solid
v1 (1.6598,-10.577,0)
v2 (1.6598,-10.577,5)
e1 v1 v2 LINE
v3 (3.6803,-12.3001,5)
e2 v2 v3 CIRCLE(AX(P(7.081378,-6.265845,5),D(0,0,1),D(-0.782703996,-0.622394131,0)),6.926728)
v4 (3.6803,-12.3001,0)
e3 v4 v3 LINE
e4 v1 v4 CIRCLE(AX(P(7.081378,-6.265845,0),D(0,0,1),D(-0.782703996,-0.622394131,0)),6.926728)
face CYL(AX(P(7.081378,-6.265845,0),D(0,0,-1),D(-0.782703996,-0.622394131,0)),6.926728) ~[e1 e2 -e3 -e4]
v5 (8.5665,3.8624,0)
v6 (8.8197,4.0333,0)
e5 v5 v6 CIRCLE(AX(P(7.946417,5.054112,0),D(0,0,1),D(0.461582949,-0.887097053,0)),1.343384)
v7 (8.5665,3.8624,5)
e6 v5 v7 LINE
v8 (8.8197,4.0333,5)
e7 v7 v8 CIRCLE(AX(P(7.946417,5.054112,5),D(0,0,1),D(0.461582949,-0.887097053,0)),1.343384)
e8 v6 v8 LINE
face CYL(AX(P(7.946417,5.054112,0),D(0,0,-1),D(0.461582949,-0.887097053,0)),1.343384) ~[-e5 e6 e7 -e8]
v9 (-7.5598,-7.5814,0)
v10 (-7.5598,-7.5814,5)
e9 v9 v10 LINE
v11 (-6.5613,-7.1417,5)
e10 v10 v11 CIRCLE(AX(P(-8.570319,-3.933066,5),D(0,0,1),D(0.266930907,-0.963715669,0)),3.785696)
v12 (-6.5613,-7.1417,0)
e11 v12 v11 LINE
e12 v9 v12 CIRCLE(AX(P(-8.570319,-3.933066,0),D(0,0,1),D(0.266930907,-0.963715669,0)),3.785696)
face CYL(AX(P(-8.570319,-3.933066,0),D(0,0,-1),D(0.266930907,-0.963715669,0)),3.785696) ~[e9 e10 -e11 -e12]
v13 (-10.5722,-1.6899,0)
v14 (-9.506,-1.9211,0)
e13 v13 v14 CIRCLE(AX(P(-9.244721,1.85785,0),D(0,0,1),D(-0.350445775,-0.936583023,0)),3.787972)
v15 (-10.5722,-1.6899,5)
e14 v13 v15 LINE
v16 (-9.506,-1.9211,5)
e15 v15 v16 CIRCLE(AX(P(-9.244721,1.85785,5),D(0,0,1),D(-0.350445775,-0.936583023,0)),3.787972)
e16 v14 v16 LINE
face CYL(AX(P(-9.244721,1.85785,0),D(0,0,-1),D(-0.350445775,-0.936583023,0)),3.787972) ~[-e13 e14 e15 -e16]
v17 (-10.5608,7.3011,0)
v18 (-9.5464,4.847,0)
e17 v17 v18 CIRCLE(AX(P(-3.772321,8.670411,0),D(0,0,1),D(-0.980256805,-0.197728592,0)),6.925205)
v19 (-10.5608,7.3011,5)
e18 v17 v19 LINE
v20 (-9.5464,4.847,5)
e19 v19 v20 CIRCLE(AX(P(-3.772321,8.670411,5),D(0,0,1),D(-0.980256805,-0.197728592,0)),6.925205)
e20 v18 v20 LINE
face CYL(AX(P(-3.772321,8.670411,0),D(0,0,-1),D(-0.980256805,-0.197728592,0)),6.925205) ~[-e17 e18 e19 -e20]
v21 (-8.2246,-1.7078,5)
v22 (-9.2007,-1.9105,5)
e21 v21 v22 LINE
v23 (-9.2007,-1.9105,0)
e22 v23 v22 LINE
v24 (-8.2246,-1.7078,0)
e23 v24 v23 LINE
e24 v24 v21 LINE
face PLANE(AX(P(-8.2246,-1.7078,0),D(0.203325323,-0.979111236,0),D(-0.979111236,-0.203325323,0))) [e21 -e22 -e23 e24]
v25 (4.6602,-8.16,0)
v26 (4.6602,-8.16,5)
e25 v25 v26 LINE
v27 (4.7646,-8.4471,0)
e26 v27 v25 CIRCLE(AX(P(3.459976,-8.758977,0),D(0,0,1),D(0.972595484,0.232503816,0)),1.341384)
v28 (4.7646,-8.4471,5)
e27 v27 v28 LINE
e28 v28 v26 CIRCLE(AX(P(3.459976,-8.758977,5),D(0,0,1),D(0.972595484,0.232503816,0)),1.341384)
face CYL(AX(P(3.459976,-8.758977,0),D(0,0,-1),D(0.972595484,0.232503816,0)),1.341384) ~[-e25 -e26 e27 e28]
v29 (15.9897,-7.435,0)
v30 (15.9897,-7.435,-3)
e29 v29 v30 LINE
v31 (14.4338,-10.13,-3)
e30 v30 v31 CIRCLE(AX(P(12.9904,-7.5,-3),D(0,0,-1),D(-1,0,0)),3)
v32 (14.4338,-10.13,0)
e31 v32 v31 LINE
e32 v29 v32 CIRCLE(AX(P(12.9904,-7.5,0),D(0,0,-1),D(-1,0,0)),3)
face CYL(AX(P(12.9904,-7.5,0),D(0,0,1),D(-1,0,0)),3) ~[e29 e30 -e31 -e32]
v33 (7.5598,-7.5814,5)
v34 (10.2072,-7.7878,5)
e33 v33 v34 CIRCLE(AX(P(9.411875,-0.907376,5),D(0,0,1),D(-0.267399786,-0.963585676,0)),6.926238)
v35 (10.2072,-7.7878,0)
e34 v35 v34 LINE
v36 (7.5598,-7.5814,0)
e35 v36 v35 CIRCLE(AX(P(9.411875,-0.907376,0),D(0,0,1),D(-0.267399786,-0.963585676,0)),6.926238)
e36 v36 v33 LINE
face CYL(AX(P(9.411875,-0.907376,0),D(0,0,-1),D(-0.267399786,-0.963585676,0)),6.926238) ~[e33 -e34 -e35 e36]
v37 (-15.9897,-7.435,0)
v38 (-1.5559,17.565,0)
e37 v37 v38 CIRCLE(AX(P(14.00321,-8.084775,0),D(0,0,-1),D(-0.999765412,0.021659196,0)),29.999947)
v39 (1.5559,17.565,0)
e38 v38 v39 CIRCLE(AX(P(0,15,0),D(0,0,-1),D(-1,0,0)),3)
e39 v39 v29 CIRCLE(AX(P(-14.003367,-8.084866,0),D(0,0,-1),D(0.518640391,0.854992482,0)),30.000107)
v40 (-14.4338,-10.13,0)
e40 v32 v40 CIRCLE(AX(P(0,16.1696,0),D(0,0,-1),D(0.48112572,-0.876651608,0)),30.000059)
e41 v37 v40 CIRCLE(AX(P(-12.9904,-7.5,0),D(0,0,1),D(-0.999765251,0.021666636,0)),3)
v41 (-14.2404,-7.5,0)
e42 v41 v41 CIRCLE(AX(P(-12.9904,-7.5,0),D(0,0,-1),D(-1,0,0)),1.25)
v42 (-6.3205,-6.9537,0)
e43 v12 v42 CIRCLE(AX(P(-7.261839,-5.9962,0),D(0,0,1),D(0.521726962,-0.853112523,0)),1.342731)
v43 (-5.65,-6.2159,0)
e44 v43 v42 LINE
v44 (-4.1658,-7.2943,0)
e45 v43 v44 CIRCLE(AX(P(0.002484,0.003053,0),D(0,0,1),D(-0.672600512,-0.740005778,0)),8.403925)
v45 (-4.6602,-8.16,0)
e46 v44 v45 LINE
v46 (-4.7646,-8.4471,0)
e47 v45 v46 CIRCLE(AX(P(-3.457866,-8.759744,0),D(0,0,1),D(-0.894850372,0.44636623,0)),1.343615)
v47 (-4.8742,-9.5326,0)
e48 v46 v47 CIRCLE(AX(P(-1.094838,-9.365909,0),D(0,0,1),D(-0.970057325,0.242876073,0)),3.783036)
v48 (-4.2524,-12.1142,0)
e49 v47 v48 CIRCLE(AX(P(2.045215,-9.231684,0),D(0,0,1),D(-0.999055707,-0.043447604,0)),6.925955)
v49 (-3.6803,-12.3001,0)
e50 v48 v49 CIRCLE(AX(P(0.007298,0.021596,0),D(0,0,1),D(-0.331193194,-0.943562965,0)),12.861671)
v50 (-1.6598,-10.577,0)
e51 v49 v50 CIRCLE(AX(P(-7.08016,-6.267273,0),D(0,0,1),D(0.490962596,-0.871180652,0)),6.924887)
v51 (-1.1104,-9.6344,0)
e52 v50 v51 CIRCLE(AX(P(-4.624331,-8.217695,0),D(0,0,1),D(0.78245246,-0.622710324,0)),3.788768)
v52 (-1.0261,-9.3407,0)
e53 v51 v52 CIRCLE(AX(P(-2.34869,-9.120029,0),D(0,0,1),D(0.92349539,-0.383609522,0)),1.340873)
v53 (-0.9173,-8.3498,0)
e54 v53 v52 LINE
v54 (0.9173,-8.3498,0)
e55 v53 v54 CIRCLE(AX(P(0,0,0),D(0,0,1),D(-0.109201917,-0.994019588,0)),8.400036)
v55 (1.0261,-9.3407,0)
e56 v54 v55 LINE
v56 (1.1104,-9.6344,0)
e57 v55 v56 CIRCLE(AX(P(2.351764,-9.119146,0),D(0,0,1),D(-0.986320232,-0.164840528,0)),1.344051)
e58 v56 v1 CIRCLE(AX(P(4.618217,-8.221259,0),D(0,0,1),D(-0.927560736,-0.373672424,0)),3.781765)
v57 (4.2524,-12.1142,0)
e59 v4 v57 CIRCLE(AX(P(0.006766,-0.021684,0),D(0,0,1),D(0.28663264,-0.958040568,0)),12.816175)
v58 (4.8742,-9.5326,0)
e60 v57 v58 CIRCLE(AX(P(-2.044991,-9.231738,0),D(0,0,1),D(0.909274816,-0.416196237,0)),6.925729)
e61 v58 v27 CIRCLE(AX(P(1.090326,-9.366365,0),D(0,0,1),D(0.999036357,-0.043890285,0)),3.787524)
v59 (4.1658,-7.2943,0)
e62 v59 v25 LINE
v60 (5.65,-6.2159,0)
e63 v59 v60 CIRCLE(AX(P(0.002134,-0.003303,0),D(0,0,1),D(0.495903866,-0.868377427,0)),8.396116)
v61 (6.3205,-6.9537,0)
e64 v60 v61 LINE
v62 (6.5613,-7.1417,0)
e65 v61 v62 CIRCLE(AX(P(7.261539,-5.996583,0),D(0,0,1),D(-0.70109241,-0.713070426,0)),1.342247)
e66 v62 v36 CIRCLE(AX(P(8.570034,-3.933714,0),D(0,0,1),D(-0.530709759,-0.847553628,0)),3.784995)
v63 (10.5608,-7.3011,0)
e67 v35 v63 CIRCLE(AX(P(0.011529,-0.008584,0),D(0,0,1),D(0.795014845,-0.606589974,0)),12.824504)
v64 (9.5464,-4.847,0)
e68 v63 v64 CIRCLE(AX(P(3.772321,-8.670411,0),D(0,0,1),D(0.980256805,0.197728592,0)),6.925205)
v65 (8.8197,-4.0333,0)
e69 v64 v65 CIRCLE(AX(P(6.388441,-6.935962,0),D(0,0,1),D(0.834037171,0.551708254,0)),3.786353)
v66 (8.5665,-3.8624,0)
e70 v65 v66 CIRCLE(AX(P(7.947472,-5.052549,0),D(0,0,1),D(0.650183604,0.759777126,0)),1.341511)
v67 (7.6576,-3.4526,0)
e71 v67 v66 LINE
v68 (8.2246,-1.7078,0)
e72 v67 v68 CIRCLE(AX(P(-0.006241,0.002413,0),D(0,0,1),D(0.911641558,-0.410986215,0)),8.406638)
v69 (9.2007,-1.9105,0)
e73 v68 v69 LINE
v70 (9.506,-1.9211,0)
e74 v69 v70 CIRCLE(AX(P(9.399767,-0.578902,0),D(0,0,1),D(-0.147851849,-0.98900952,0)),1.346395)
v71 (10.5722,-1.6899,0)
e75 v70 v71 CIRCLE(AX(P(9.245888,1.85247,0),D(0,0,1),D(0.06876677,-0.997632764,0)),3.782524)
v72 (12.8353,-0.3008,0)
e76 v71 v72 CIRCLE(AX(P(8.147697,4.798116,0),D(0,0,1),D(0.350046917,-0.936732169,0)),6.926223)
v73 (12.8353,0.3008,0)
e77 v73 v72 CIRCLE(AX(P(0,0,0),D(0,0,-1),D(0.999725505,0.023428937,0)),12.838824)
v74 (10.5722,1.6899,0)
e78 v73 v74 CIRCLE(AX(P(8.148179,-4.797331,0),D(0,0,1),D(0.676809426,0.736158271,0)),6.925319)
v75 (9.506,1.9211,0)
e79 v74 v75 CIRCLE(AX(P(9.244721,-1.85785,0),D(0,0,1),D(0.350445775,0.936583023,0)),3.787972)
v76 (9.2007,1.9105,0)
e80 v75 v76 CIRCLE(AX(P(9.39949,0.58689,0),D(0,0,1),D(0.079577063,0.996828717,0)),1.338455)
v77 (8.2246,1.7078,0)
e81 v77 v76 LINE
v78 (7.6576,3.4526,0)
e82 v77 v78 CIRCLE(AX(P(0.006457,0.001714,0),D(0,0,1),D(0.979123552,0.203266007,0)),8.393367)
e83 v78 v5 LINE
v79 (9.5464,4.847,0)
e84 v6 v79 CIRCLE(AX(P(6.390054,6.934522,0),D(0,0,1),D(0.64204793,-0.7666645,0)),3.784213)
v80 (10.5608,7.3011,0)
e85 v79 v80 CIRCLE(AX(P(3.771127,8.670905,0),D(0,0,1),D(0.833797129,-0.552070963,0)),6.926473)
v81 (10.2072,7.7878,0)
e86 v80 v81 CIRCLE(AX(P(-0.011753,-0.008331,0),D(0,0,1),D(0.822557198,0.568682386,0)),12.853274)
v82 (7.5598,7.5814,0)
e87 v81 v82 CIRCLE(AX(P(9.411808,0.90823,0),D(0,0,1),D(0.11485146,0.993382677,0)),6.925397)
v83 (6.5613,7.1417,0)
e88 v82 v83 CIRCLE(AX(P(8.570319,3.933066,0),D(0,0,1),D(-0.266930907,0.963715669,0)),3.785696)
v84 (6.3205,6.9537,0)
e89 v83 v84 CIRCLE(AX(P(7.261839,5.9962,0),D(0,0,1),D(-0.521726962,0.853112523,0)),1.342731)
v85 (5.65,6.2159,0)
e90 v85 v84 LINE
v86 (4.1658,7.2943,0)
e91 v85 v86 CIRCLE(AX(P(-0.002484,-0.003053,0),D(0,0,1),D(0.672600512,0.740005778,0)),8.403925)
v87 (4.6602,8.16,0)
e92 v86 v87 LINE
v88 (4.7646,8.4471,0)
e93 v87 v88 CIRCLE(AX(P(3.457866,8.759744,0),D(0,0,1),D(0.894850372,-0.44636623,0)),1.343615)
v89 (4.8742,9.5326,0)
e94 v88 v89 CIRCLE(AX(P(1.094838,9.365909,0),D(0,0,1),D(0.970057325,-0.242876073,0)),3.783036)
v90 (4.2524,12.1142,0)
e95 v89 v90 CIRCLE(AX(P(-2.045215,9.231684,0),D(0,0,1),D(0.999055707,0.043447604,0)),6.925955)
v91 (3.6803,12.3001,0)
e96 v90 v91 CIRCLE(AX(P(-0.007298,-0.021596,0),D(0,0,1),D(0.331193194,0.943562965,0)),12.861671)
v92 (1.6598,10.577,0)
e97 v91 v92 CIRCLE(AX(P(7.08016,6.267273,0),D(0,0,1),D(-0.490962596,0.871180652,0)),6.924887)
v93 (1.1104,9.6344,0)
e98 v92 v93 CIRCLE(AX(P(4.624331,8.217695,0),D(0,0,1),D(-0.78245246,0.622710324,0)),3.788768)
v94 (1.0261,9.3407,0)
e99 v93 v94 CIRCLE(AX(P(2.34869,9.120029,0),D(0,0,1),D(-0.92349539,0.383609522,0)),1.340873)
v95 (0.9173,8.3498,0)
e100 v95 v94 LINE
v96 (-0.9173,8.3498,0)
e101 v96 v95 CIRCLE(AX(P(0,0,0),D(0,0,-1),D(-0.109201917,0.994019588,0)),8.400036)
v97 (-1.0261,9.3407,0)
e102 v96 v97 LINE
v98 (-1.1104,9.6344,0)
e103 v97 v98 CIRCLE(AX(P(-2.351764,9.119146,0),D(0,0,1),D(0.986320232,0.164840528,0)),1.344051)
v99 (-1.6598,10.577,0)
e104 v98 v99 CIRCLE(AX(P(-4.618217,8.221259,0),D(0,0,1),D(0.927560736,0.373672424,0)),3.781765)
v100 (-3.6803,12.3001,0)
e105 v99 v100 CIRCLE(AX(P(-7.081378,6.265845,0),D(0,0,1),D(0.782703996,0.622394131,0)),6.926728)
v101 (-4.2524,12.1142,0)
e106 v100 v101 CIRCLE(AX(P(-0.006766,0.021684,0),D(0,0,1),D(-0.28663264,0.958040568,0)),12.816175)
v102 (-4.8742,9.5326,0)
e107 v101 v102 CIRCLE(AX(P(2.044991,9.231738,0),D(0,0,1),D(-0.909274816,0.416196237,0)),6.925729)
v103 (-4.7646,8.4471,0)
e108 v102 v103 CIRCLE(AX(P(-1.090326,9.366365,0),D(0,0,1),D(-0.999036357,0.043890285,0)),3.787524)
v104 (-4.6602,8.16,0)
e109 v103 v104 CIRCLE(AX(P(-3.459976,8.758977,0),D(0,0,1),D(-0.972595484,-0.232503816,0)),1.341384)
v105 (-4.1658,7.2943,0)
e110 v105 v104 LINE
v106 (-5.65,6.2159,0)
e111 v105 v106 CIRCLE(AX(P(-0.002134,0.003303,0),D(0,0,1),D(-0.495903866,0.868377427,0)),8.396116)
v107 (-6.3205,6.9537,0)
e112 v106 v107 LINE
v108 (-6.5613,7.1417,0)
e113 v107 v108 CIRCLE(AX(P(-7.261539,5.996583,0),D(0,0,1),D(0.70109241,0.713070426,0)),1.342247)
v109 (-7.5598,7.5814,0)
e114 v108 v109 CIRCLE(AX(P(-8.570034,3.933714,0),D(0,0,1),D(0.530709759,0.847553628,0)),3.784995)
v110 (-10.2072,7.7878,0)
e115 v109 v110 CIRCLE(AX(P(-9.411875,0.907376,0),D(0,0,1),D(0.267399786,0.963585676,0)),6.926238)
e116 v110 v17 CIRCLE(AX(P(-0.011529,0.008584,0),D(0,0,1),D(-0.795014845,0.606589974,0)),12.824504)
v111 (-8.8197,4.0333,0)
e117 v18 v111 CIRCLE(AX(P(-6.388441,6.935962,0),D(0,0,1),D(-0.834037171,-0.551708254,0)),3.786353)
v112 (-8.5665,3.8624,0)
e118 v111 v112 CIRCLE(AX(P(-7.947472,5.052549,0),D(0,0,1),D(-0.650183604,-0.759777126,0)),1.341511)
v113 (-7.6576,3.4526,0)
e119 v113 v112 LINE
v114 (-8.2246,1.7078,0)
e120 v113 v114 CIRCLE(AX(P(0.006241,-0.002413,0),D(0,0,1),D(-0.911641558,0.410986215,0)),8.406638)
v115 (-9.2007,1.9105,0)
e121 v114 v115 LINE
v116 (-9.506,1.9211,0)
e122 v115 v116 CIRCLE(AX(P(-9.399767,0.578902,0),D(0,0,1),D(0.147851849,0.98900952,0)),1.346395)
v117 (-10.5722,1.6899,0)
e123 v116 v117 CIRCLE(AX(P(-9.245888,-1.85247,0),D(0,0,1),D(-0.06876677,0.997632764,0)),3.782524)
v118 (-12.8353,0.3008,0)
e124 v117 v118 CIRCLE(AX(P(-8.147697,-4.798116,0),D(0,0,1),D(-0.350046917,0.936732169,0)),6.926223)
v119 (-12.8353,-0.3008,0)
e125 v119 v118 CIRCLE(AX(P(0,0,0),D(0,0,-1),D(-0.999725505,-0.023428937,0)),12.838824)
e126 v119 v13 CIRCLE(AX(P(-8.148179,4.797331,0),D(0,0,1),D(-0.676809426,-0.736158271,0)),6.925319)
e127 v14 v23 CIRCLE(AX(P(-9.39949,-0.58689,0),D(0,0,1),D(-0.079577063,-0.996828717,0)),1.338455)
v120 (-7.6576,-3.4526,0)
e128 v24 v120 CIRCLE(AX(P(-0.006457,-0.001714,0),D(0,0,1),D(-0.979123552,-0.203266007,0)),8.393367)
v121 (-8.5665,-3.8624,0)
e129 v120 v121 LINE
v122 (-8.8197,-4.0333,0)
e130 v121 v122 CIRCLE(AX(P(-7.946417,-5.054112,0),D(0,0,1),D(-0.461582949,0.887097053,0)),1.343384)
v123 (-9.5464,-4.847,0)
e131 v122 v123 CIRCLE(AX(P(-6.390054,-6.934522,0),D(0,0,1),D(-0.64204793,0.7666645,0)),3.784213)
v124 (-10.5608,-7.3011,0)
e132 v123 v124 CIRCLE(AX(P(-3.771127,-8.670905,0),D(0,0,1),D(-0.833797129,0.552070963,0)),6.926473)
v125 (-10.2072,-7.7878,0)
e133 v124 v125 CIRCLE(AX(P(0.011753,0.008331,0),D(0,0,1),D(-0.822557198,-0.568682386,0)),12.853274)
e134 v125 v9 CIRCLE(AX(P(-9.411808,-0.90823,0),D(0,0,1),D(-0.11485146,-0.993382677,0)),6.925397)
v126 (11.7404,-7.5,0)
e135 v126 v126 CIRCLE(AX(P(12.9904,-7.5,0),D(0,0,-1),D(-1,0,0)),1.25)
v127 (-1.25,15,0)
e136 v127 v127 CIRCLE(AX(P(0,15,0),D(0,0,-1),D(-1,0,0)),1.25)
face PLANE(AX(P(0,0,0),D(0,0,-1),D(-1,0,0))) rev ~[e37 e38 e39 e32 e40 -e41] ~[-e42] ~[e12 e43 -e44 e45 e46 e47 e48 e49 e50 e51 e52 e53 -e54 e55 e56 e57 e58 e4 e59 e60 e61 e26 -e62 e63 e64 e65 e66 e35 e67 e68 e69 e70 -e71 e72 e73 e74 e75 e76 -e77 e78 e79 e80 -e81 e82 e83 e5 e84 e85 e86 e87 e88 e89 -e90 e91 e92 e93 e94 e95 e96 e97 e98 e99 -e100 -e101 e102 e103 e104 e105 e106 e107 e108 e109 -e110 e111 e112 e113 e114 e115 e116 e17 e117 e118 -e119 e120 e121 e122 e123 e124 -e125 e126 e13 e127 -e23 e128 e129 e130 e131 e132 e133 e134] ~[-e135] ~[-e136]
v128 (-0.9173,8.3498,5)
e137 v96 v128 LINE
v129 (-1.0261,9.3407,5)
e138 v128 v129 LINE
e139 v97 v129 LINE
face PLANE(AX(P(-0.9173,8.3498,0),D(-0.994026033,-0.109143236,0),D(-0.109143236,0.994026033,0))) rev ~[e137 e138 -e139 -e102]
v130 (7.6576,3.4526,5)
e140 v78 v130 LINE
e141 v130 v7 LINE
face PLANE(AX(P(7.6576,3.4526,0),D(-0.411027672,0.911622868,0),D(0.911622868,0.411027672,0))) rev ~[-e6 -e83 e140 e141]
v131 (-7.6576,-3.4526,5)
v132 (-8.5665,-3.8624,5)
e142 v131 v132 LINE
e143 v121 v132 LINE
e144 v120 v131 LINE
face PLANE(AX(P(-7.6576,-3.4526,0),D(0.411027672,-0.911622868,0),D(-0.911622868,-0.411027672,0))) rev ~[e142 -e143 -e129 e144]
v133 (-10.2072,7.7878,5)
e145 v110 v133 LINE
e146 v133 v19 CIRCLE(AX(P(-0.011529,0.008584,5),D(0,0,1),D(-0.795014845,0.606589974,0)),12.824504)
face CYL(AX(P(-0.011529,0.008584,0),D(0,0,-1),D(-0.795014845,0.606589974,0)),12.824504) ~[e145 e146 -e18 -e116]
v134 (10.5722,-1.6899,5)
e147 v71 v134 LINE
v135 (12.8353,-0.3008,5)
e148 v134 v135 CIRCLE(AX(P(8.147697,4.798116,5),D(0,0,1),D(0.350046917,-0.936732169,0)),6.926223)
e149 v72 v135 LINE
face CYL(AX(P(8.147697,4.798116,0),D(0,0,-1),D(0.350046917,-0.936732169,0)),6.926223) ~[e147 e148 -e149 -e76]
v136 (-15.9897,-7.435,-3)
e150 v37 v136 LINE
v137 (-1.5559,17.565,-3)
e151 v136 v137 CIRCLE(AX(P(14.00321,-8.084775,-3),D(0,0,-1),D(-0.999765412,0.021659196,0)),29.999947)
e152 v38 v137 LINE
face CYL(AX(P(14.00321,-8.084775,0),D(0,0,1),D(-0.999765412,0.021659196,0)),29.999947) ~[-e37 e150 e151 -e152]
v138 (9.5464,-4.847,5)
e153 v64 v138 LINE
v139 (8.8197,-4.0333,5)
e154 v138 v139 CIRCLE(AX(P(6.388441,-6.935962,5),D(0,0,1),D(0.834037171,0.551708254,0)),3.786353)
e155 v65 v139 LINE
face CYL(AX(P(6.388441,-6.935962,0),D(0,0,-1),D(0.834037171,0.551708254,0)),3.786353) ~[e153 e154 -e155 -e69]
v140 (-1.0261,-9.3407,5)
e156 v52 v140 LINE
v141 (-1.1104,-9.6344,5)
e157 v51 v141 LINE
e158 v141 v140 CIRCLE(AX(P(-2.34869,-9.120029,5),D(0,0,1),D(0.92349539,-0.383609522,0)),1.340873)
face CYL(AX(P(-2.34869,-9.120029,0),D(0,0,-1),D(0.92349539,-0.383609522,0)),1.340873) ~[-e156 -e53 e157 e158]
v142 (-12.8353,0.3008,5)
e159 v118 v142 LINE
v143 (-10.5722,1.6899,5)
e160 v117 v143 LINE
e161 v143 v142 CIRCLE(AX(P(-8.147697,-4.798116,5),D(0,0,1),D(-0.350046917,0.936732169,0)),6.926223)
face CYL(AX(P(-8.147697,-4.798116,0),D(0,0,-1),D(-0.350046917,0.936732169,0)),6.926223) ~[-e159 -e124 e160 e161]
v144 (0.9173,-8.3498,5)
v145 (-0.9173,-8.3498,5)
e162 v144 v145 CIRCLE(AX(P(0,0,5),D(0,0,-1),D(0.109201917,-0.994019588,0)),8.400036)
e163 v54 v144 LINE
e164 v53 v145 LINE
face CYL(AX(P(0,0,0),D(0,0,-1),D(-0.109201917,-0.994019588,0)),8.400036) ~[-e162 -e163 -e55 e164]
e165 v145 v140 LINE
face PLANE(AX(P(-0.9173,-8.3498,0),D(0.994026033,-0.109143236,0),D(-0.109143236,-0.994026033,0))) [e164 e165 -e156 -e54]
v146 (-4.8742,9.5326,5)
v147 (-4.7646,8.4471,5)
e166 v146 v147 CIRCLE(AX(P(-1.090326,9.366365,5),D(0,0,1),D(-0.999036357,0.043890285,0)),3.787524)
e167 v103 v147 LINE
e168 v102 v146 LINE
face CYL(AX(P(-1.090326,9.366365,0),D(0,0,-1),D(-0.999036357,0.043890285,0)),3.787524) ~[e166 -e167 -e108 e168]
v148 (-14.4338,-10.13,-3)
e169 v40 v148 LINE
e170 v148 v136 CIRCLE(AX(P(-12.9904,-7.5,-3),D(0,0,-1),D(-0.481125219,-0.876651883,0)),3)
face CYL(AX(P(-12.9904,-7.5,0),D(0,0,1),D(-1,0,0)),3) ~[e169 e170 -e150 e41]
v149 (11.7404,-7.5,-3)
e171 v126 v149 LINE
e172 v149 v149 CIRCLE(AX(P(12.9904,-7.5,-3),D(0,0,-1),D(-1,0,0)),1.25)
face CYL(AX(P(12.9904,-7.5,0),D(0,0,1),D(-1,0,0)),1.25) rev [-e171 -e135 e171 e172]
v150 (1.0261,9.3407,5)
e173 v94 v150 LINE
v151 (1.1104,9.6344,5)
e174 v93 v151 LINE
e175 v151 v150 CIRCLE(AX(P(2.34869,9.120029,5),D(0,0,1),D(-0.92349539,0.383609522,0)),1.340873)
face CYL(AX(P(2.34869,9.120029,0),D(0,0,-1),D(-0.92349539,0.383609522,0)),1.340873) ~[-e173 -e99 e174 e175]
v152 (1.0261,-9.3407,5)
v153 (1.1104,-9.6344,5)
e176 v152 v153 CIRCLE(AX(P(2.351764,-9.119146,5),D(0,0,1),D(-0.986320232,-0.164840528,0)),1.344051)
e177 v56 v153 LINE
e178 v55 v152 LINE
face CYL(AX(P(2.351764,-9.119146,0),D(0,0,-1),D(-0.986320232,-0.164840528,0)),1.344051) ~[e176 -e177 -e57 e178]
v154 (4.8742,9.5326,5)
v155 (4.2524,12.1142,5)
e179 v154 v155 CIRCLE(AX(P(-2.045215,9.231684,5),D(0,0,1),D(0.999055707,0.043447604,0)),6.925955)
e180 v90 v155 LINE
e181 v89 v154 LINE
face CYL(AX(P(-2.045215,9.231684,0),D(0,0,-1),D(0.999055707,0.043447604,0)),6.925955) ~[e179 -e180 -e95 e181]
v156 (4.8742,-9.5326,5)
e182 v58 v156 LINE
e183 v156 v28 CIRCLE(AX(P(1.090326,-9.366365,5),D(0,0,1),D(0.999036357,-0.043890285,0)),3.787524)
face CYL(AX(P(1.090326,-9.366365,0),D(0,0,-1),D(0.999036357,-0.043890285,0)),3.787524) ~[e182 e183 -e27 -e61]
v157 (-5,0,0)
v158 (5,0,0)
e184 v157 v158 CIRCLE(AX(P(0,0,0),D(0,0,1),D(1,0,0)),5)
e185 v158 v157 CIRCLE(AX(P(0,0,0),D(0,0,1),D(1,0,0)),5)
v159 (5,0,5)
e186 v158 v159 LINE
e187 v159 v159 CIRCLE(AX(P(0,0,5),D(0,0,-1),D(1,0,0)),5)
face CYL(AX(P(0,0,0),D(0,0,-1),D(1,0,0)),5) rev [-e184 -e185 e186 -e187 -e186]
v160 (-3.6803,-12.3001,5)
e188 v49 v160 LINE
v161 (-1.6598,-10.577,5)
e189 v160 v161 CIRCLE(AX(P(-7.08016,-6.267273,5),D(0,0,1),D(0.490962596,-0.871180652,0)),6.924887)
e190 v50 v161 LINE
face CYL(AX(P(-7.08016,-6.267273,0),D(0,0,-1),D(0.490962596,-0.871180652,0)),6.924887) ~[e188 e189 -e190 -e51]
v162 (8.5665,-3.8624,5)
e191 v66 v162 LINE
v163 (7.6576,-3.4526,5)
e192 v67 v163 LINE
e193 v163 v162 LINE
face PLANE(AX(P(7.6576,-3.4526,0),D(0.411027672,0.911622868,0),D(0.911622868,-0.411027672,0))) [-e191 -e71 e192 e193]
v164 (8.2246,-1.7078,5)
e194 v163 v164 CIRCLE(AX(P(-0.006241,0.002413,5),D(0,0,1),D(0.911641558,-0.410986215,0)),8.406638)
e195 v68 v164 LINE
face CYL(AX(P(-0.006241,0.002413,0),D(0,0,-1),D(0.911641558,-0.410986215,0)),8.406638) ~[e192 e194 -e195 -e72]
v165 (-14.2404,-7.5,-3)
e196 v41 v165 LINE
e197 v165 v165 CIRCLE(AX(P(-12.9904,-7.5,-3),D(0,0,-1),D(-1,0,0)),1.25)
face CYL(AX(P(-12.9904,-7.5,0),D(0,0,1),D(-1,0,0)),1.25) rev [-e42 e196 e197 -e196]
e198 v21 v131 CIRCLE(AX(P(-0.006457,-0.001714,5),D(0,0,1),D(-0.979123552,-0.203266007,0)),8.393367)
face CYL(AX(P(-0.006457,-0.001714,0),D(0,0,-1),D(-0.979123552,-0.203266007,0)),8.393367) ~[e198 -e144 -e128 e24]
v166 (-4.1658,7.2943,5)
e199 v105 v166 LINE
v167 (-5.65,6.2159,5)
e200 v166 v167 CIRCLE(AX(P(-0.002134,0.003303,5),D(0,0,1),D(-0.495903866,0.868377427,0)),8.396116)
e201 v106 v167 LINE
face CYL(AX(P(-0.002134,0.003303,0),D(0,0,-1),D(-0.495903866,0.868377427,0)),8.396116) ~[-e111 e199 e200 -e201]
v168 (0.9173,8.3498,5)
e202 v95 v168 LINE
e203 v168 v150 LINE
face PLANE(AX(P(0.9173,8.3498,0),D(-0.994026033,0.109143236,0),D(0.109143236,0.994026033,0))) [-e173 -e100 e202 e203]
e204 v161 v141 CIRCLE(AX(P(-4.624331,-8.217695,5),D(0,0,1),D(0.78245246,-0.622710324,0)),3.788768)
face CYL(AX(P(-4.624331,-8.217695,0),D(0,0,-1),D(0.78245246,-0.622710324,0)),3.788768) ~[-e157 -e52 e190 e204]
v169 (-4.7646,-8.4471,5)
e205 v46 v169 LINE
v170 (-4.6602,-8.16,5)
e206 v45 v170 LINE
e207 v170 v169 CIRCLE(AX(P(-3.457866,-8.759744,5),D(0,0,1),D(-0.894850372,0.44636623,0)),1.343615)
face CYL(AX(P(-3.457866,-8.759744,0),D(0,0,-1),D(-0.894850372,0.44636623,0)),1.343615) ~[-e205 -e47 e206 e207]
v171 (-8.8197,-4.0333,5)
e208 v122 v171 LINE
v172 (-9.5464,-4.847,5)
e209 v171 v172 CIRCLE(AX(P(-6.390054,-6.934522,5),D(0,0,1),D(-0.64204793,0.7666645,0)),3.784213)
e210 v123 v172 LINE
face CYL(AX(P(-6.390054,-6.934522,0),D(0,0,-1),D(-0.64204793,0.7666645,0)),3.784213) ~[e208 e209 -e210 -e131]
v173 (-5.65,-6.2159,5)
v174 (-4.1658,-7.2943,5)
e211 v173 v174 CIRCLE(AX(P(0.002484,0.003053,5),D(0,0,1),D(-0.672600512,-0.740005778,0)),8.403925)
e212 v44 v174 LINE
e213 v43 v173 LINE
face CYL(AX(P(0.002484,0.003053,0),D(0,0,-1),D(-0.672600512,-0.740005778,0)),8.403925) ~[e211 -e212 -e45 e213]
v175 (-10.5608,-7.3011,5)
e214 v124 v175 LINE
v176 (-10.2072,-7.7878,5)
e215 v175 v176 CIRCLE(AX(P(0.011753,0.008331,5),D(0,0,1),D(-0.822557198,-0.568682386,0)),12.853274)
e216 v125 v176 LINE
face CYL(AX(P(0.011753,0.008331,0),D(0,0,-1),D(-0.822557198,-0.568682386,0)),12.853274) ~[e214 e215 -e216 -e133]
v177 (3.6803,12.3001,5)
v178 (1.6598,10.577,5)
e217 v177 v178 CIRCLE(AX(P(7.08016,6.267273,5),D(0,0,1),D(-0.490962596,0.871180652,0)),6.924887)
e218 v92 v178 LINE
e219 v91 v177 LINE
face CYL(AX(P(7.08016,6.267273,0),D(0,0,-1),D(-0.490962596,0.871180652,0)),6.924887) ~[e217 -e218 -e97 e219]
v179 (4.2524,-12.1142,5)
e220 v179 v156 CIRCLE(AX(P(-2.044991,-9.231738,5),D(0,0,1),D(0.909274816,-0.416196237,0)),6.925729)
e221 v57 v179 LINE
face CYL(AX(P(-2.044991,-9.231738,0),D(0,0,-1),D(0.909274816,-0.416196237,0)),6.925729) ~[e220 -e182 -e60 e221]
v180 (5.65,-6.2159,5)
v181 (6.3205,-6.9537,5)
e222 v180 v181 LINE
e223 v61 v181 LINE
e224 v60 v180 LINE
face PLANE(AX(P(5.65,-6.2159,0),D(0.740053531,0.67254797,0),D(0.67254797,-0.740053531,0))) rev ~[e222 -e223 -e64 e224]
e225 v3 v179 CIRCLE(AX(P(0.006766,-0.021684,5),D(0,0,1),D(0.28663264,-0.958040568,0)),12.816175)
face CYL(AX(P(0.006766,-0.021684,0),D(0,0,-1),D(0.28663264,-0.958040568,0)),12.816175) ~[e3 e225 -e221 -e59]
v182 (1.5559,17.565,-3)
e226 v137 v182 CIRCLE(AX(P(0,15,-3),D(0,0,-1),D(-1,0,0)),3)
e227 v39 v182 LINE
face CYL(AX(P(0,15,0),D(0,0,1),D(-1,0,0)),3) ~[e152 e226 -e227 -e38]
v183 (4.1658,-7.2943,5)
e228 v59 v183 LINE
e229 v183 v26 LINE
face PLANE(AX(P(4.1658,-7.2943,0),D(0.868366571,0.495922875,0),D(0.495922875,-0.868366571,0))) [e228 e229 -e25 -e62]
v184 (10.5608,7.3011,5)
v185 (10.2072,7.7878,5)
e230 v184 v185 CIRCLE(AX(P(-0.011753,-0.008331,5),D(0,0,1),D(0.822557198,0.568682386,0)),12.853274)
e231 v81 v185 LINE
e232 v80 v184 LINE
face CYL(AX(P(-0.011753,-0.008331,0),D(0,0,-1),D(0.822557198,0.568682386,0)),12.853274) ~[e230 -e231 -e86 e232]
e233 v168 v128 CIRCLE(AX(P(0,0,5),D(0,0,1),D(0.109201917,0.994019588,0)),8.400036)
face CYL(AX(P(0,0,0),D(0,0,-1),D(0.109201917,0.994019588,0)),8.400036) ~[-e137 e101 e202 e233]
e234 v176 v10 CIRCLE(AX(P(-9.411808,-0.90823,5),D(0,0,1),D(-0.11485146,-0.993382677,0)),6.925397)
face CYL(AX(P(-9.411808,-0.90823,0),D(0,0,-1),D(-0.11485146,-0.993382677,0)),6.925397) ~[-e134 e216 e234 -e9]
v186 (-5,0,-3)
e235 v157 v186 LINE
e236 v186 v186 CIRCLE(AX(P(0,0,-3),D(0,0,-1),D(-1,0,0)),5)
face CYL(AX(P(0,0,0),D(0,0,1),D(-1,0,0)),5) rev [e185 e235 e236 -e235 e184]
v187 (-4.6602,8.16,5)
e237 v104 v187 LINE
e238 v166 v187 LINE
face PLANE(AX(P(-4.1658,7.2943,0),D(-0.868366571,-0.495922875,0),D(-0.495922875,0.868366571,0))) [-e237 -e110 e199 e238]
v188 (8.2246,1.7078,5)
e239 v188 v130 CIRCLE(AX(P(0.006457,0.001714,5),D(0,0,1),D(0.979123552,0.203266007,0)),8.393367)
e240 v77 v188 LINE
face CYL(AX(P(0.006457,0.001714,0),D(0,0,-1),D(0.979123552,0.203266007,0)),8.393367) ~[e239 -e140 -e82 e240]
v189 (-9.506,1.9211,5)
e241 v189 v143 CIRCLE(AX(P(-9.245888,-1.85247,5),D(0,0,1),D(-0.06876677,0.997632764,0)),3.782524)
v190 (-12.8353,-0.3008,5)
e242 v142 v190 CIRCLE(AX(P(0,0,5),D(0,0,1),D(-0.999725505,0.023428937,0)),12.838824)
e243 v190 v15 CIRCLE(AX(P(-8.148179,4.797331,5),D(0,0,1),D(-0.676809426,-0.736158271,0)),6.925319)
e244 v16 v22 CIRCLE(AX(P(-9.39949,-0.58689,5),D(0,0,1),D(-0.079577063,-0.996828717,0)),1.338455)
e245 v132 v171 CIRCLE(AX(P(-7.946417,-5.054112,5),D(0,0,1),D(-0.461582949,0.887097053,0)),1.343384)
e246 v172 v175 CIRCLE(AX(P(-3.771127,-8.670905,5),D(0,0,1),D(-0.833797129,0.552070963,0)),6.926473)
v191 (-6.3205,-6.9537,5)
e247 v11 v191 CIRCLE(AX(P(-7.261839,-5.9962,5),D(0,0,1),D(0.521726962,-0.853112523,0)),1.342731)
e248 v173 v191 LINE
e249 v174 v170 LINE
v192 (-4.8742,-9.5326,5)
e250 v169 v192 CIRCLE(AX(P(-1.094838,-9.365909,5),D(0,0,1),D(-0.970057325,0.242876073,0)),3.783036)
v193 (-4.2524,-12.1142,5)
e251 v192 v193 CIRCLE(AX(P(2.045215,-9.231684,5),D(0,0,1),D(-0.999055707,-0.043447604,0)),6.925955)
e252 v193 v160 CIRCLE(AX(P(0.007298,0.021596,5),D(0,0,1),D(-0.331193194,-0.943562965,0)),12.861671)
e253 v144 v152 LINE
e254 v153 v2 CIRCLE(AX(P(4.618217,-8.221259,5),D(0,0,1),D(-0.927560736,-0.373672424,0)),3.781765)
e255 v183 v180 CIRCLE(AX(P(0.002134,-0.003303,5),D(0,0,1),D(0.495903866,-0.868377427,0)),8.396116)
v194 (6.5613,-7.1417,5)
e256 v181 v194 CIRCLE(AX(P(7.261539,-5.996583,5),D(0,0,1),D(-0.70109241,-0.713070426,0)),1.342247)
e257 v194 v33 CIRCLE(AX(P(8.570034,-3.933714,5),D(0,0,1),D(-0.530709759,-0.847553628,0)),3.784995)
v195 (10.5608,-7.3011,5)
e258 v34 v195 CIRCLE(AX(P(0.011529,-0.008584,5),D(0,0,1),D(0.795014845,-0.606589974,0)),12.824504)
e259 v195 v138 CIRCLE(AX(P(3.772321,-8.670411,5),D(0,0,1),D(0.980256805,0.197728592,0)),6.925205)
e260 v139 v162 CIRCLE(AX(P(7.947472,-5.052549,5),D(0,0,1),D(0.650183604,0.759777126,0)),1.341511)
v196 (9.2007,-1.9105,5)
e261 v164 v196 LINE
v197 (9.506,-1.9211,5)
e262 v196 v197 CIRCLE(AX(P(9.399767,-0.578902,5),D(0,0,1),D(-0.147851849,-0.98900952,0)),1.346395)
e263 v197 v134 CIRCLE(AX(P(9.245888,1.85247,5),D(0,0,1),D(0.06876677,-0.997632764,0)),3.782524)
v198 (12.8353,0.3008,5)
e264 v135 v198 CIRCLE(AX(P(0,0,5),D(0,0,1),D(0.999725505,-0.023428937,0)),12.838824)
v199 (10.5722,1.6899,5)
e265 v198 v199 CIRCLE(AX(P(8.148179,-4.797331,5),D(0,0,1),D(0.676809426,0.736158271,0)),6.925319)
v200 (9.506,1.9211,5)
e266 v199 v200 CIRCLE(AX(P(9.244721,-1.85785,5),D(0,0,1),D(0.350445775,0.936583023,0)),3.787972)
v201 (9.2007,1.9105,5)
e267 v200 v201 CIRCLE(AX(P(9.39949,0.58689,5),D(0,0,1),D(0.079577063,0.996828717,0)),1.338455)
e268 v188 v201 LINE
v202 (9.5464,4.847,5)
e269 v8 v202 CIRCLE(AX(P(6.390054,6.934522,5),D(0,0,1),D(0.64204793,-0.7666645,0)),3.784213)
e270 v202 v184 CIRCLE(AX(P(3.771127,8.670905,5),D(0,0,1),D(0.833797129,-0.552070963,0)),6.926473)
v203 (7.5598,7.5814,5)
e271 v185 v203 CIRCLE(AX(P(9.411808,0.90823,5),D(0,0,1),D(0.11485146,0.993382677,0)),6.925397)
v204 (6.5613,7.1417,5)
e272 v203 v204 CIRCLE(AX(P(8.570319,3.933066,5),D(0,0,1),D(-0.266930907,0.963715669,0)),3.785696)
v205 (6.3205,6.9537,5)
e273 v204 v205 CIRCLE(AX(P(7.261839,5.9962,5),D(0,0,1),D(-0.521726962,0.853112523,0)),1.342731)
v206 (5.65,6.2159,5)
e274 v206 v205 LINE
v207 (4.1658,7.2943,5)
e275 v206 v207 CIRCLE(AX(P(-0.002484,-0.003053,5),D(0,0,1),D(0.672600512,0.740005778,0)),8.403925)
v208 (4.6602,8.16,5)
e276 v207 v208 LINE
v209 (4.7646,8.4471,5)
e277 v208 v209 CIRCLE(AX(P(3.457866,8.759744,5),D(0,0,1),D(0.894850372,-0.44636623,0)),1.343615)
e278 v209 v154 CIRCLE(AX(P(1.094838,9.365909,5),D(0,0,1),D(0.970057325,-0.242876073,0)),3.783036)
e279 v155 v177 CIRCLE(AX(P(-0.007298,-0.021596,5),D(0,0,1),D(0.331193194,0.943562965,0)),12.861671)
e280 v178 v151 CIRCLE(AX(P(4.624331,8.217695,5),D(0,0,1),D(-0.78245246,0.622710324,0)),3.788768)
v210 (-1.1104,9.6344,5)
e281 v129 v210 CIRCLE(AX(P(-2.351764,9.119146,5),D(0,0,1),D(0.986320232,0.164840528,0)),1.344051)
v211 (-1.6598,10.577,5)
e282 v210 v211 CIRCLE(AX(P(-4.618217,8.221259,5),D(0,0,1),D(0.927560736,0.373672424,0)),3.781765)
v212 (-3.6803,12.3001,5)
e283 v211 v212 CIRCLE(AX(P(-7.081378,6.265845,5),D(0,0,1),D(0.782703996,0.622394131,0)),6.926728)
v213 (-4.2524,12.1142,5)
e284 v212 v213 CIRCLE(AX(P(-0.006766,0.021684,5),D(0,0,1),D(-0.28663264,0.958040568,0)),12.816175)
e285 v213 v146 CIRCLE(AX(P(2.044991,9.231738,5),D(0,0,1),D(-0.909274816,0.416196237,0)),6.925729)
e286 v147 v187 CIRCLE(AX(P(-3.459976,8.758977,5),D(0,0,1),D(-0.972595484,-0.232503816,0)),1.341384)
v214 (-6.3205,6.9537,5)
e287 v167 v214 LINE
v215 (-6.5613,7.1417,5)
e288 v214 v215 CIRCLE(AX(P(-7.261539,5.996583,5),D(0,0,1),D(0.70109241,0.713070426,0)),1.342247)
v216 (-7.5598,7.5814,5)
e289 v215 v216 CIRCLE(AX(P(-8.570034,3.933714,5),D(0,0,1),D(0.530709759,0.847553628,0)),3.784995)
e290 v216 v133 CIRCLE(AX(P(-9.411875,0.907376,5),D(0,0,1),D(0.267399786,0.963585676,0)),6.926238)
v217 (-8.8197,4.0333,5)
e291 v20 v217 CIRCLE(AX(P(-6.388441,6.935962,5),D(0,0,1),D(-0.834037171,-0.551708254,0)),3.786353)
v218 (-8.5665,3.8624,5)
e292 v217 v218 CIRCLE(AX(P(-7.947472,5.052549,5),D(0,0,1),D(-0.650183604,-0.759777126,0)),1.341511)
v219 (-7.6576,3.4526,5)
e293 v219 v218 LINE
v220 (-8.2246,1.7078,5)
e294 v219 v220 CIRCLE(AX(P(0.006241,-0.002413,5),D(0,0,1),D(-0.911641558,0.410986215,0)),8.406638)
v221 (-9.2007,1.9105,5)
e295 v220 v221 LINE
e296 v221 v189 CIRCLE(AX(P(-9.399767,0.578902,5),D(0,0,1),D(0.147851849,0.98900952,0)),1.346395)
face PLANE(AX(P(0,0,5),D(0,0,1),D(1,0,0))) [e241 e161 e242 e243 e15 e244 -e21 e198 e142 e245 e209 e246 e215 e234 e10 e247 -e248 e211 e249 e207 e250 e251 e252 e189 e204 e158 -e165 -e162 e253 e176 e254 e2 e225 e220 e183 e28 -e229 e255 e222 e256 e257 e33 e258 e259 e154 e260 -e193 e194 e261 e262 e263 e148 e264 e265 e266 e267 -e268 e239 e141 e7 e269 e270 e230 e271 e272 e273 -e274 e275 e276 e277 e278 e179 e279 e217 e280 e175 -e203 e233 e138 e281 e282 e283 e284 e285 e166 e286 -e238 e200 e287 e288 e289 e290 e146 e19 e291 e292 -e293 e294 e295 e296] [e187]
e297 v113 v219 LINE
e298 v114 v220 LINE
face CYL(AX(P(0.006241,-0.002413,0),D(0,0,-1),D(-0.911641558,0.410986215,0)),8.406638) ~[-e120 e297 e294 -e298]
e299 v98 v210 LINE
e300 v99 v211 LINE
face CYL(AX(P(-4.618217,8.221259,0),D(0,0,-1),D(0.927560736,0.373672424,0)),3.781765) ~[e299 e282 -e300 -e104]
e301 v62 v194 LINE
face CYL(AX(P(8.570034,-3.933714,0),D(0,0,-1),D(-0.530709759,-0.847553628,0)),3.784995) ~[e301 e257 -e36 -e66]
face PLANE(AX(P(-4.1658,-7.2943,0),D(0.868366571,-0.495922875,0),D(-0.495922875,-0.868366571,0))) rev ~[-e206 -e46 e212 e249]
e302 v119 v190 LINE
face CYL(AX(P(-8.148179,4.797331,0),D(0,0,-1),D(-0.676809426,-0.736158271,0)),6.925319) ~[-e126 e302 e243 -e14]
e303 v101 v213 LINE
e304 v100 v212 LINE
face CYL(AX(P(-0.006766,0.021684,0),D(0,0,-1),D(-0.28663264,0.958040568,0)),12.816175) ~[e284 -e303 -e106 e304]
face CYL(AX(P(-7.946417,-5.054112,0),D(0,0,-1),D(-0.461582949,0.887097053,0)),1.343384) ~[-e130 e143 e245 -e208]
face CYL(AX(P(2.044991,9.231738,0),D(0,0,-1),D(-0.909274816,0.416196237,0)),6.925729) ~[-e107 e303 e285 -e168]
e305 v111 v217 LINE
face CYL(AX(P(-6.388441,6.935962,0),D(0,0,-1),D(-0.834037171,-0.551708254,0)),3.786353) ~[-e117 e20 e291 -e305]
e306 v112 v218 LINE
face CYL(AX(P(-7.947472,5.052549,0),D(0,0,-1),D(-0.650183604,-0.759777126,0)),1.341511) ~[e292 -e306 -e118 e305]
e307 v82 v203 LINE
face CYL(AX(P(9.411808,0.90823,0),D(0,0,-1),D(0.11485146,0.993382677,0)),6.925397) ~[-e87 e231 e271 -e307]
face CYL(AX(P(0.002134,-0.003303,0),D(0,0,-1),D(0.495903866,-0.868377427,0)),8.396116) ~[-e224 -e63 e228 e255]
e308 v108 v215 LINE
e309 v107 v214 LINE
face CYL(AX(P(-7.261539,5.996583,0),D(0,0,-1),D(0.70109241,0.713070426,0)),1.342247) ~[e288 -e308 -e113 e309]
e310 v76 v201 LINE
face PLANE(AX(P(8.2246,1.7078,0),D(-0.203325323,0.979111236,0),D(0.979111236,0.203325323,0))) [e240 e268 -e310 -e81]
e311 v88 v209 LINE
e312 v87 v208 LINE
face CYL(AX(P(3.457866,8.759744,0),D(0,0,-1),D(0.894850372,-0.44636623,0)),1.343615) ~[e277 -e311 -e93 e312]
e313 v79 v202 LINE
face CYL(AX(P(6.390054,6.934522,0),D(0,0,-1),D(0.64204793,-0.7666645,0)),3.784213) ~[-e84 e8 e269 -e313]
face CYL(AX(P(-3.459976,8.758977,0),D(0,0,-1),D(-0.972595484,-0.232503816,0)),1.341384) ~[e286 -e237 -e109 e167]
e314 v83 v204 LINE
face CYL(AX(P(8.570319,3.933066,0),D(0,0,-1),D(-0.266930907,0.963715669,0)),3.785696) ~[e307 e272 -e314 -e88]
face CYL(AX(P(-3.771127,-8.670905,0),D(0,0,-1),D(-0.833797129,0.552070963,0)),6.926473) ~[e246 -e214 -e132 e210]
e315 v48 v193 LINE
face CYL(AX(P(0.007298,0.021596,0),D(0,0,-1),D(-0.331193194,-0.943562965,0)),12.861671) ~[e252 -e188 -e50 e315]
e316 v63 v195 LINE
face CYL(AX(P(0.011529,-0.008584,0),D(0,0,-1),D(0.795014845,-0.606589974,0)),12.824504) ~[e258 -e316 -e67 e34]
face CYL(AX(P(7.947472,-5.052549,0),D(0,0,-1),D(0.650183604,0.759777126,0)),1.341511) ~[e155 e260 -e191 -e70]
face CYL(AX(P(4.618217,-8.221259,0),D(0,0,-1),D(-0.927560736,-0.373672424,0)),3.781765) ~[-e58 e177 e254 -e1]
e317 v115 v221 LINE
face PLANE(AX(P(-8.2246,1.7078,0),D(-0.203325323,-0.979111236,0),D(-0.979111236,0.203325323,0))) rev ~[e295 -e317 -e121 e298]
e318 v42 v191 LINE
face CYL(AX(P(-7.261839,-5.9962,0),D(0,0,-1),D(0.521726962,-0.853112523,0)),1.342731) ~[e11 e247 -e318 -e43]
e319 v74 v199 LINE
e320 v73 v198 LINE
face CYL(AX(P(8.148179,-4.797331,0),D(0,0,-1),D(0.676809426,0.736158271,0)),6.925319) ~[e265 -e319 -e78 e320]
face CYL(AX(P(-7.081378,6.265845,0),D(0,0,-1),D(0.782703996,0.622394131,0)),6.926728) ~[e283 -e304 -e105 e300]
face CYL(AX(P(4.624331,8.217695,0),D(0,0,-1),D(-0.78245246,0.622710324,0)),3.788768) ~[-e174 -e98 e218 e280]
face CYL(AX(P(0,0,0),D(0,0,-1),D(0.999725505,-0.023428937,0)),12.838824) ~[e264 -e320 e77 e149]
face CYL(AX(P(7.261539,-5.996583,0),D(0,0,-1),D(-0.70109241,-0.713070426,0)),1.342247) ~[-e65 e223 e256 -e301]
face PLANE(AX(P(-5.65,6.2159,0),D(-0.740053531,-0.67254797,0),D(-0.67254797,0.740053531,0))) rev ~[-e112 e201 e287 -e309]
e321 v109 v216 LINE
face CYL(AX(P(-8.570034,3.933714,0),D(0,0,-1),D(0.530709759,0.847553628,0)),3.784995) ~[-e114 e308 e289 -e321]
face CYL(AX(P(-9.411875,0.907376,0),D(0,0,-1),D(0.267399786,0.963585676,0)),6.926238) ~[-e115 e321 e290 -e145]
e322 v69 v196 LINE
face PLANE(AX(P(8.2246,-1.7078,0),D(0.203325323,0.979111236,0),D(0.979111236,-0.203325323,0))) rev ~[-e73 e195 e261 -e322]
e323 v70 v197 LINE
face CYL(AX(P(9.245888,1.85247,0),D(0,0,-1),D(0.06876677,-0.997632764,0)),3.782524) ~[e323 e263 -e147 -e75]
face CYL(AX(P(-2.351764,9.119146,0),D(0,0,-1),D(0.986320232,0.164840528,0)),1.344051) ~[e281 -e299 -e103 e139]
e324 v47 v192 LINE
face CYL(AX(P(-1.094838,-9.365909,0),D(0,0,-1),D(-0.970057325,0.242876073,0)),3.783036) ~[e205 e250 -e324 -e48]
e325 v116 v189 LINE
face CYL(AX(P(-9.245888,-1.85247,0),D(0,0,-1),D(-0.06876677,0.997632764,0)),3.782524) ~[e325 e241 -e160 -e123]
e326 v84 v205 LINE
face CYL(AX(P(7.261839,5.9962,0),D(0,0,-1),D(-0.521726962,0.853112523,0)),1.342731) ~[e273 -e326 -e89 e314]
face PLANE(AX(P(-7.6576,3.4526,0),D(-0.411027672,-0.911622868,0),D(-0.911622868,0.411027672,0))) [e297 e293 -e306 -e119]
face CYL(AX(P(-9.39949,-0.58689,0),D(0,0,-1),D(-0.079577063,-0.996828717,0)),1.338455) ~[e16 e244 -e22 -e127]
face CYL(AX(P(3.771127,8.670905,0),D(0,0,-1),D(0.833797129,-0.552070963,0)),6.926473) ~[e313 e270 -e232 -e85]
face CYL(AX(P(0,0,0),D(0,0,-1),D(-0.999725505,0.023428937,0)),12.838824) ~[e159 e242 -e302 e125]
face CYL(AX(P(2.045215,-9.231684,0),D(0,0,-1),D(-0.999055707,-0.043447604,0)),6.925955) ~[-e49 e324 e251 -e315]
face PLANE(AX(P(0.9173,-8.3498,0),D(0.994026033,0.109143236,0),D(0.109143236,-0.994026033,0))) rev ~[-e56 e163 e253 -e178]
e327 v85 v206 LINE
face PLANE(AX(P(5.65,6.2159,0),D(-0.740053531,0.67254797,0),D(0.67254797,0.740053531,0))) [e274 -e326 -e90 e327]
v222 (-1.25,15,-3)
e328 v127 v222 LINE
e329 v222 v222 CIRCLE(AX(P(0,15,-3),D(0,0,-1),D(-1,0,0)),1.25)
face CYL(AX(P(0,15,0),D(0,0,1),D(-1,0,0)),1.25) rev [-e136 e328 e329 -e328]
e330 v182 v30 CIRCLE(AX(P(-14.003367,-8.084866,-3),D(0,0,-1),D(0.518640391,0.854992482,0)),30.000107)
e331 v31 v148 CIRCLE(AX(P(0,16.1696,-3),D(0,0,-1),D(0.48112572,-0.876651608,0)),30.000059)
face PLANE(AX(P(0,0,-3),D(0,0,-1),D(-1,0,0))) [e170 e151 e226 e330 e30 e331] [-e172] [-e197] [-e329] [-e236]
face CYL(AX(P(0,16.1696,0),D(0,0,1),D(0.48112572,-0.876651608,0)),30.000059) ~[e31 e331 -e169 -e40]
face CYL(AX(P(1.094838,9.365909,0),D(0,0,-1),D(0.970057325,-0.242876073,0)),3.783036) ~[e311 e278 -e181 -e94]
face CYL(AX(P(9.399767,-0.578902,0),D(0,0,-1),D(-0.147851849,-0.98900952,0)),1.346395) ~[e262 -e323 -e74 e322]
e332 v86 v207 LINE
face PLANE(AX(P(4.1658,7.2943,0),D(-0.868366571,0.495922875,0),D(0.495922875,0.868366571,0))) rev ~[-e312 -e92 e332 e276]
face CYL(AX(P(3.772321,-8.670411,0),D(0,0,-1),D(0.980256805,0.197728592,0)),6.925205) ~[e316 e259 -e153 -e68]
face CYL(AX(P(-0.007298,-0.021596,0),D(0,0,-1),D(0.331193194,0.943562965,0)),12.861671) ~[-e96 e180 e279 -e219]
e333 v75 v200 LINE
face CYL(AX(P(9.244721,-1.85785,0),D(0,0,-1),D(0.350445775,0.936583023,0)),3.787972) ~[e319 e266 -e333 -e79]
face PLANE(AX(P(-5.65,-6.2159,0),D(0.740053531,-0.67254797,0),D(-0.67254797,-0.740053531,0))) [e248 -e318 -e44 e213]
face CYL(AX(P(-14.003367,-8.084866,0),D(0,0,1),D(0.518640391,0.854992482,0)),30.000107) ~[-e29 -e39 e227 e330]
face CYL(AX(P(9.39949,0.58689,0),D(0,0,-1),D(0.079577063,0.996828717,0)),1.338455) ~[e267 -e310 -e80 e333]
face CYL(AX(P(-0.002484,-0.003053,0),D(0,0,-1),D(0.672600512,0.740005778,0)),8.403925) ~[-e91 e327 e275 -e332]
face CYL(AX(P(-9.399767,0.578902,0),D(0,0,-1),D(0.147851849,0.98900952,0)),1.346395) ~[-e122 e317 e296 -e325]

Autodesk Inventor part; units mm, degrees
ref_plane "YZ Plane" through (0, 0, 0) normal (1, 0, 0) x (0, 1, 0)
ref_plane "XZ Plane" through (0, 0, 0) normal (0, 1, 0) x (-1, 0, 0)
ref_plane "XY Plane" through (0, 0, 0) normal (0, 0, 1) x (1, 0, 0)
sketch "Sketch1" plane through (0, 0, 0) normal (0, 0, 1) x (1, 0, 0)
  line L0 (0, -14) -> (0, 14)
  arc A0 (1.1104, 9.6344) -> (1.0261, 9.3407) centre (2.3502, 9.1195) ccw
  arc A1 (1.6598, 10.577) -> (1.1104, 9.6344) centre (4.6214, 8.2197) ccw
  arc A2 (3.6803, 12.3001) -> (1.6598, 10.577) centre (7.0807, 6.2665) ccw
  arc A3 (-4.7646, 8.4471) -> (-4.6602, 8.16) centre (-3.4589, 8.7593) ccw
  arc A4 (-4.8742, 9.5326) -> (-4.7646, 8.4471) centre (-1.0926, 9.3663) ccw
  arc A5 (-4.2524, 12.1142) -> (-4.8742, 9.5326) centre (2.0451, 9.2317) ccw
  arc A6 (-8.8197, 4.0333) -> (-8.5665, 3.8624) centre (-7.9469, 5.0533) ccw
  arc A7 (-9.5464, 4.847) -> (-8.8197, 4.0333) centre (-6.3893, 6.9353) ccw
  arc A8 (-10.5608, 7.3011) -> (-9.5464, 4.847) centre (-3.7717, 8.6706) ccw
  arc A9 (-9.506, -1.9211) -> (-9.2007, -1.9105) centre (-9.3994, -0.5829) ccw
  arc A10 (-10.5722, -1.6899) -> (-9.506, -1.9211) centre (-9.2455, 1.8552) ccw
  arc A11 (-12.8353, -0.3008) -> (-10.5722, -1.6899) centre (-8.1479, 4.7977) ccw
  arc A12 (-6.5613, -7.1417) -> (-6.3205, -6.9537) centre (-7.2617, -5.9964) ccw
  arc A13 (-7.5598, -7.5814) -> (-6.5613, -7.1417) centre (-8.5702, -3.9334) ccw
  arc A14 (-10.2072, -7.7878) -> (-7.5598, -7.5814) centre (-9.4118, -0.9078) ccw
  arc A15 (-1.1104, -9.6344) -> (-1.0261, -9.3407) centre (-2.3502, -9.1195) ccw
  arc A16 (-1.6598, -10.577) -> (-1.1104, -9.6344) centre (-4.6214, -8.2197) ccw
  arc A17 (-3.6803, -12.3001) -> (-1.6598, -10.577) centre (-7.0807, -6.2665) ccw
  arc A18 (4.7646, -8.4471) -> (4.6602, -8.16) centre (3.4589, -8.7593) ccw
  arc A19 (4.8742, -9.5326) -> (4.7646, -8.4471) centre (1.0926, -9.3663) ccw
  arc A20 (4.2524, -12.1142) -> (4.8742, -9.5326) centre (-2.0451, -9.2317) ccw
  arc A21 (8.8197, -4.0333) -> (8.5665, -3.8624) centre (7.9469, -5.0533) ccw
  arc A22 (9.5464, -4.847) -> (8.8197, -4.0333) centre (6.3893, -6.9353) ccw
  arc A23 (10.5608, -7.3011) -> (9.5464, -4.847) centre (3.7717, -8.6706) ccw
  arc A24 (9.506, 1.9211) -> (9.2007, 1.9105) centre (9.3994, 0.5829) ccw
  arc A25 (10.5722, 1.6899) -> (9.506, 1.9211) centre (9.2455, -1.8552) ccw
  arc A26 (12.8353, 0.3008) -> (10.5722, 1.6899) centre (8.1479, -4.7977) ccw
  arc A27 (6.5613, 7.1417) -> (6.3205, 6.9537) centre (7.2617, 5.9964) ccw
  arc A28 (7.5598, 7.5814) -> (6.5613, 7.1417) centre (8.5702, 3.9334) ccw
  arc A29 (10.2072, 7.7878) -> (7.5598, 7.5814) centre (9.4118, 0.9078) ccw
  arc A30 (-1.0261, 9.3407) -> (-1.1104, 9.6344) centre (-2.3502, 9.1195) ccw
  arc A31 (-1.1104, 9.6344) -> (-1.6598, 10.577) centre (-4.6214, 8.2197) ccw
  arc A32 (-1.6598, 10.577) -> (-3.6803, 12.3001) centre (-7.0807, 6.2665) ccw
  arc A33 (-6.3205, 6.9537) -> (-6.5613, 7.1417) centre (-7.2617, 5.9964) ccw
  arc A34 (-6.5613, 7.1417) -> (-7.5598, 7.5814) centre (-8.5702, 3.9334) ccw
  arc A35 (-7.5598, 7.5814) -> (-10.2072, 7.7878) centre (-9.4118, 0.9078) ccw
  arc A36 (-9.2007, 1.9105) -> (-9.506, 1.9211) centre (-9.3994, 0.5829) ccw
  arc A37 (-9.506, 1.9211) -> (-10.5722, 1.6899) centre (-9.2455, -1.8552) ccw
  arc A38 (-10.5722, 1.6899) -> (-12.8353, 0.3008) centre (-8.1479, -4.7977) ccw
  arc A39 (-8.5665, -3.8624) -> (-8.8197, -4.0333) centre (-7.9469, -5.0533) ccw
  arc A40 (-8.8197, -4.0333) -> (-9.5464, -4.847) centre (-6.3893, -6.9353) ccw
  arc A41 (-9.5464, -4.847) -> (-10.5608, -7.3011) centre (-3.7717, -8.6706) ccw
  arc A42 (-4.6602, -8.16) -> (-4.7646, -8.4471) centre (-3.4589, -8.7593) ccw
  arc A43 (-4.7646, -8.4471) -> (-4.8742, -9.5326) centre (-1.0926, -9.3663) ccw
  arc A44 (-4.8742, -9.5326) -> (-4.2524, -12.1142) centre (2.0451, -9.2317) ccw
  arc A45 (1.0261, -9.3407) -> (1.1104, -9.6344) centre (2.3502, -9.1195) ccw
  arc A46 (1.1104, -9.6344) -> (1.6598, -10.577) centre (4.6214, -8.2197) ccw
  arc A47 (1.6598, -10.577) -> (3.6803, -12.3001) centre (7.0807, -6.2665) ccw
  arc A48 (6.3205, -6.9537) -> (6.5613, -7.1417) centre (7.2617, -5.9964) ccw
  arc A49 (6.5613, -7.1417) -> (7.5598, -7.5814) centre (8.5702, -3.9334) ccw
  arc A50 (7.5598, -7.5814) -> (10.2072, -7.7878) centre (9.4118, -0.9078) ccw
  arc A51 (9.2007, -1.9105) -> (9.506, -1.9211) centre (9.3994, -0.5829) ccw
  arc A52 (9.506, -1.9211) -> (10.5722, -1.6899) centre (9.2455, 1.8552) ccw
  arc A53 (10.5722, -1.6899) -> (12.8353, -0.3008) centre (8.1479, 4.7977) ccw
  arc A54 (8.5665, 3.8624) -> (8.8197, 4.0333) centre (7.9469, 5.0533) ccw
  arc A55 (8.8197, 4.0333) -> (9.5464, 4.847) centre (6.3893, 6.9353) ccw
  arc A56 (9.5464, 4.847) -> (10.5608, 7.3011) centre (3.7717, 8.6706) ccw
  arc A57 (4.6602, 8.16) -> (4.7646, 8.4471) centre (3.4589, 8.7593) ccw
  arc A58 (4.7646, 8.4471) -> (4.8742, 9.5326) centre (1.0926, 9.3663) ccw
  arc A59 (4.8742, 9.5326) -> (4.2524, 12.1142) centre (-2.0451, 9.2317) ccw
  arc A60 (0.9173, 8.3498) -> (-0.9173, 8.3498) centre (0, 0) ccw
  arc A61 (-4.1658, 7.2943) -> (-5.65, 6.2159) centre (0, 0) ccw
  arc A62 (-7.6576, 3.4526) -> (-8.2246, 1.7078) centre (0, 0) ccw
  arc A63 (-8.2246, -1.7078) -> (-7.6576, -3.4526) centre (0, 0) ccw
  arc A64 (-5.65, -6.2159) -> (-4.1658, -7.2943) centre (0, 0) ccw
  arc A65 (-0.9173, -8.3498) -> (0.9173, -8.3498) centre (0, 0) ccw
  arc A66 (4.1658, -7.2943) -> (5.65, -6.2159) centre (0, 0) ccw
  arc A67 (7.6576, -3.4526) -> (8.2246, -1.7078) centre (0, 0) ccw
  arc A68 (8.2246, 1.7078) -> (7.6576, 3.4526) centre (0, 0) ccw
  arc A69 (5.65, 6.2159) -> (4.1658, 7.2943) centre (0, 0) ccw
  arc A70 (-3.6803, 12.3001) -> (-4.2524, 12.1142) centre (0, 0) ccw
  arc A71 (-10.2072, 7.7878) -> (-10.5608, 7.3011) centre (0, 0) ccw
  arc A72 (-12.8353, 0.3008) -> (-12.8353, -0.3008) centre (0, 0) ccw
  arc A73 (-10.5608, -7.3011) -> (-10.2072, -7.7878) centre (0, 0) ccw
  arc A74 (-4.2524, -12.1142) -> (-3.6803, -12.3001) centre (0, 0) ccw
  arc A75 (3.6803, -12.3001) -> (4.2524, -12.1142) centre (0, 0) ccw
  arc A76 (10.2072, -7.7878) -> (10.5608, -7.3011) centre (0, 0) ccw
  arc A77 (12.8353, -0.3008) -> (12.8353, 0.3008) centre (0, 0) ccw
  arc A78 (10.5608, 7.3011) -> (10.2072, 7.7878) centre (0, 0) ccw
  arc A79 (4.2524, 12.1142) -> (3.6803, 12.3001) centre (0, 0) ccw
  line L1 (0.9173, 8.3498) -> (1.0261, 9.3407)
  line L2 (-4.1658, 7.2943) -> (-4.6602, 8.16)
  line L3 (-7.6576, 3.4526) -> (-8.5665, 3.8624)
  line L4 (-8.2246, -1.7078) -> (-9.2007, -1.9105)
  line L5 (-5.65, -6.2159) -> (-6.3205, -6.9537)
  line L6 (-0.9173, -8.3498) -> (-1.0261, -9.3407)
  line L7 (4.1658, -7.2943) -> (4.6602, -8.16)
  line L8 (7.6576, -3.4526) -> (8.5665, -3.8624)
  line L9 (8.2246, 1.7078) -> (9.2007, 1.9105)
  line L10 (5.65, 6.2159) -> (6.3205, 6.9537)
  line L11 (-0.9173, 8.3498) -> (-1.0261, 9.3407)
  line L12 (-5.65, 6.2159) -> (-6.3205, 6.9537)
  line L13 (-8.2246, 1.7078) -> (-9.2007, 1.9105)
  line L14 (-7.6576, -3.4526) -> (-8.5665, -3.8624)
  line L15 (-4.1658, -7.2943) -> (-4.6602, -8.16)
  line L16 (0.9173, -8.3498) -> (1.0261, -9.3407)
  line L17 (5.65, -6.2159) -> (6.3205, -6.9537)
  line L18 (8.2246, -1.7078) -> (9.2007, -1.9105)
  line L19 (7.6576, 3.4526) -> (8.5665, 3.8624)
  line L20 (4.1658, 7.2943) -> (4.6602, 8.16)
  line L21 (-14.8388, 0) -> (14.8388, 0)
  line L22 (0, -14.8388) -> (0, 14.8388)
  circle A80 centre (0, 0) radius 5
  dimension "d2" = 10
extrude "Extrusion1" add sketch "Sketch1" along normal blind 5 contours A65 L6 A15 A16 A17 A74 A44 A43 A42 L15 A64 L5 A12 A13 A14 A73 A41 A40 A39 L14 A63 L4 A9 A10 A11 A72 L21 A80 L0 | L0 A80 L21 A77 A53 A52 A51 L18 A67 L8 A21 A22 A23 A76 A50 A49 A48 L17 A66 L7 A18 A19 A20 A75 A47 A46 A45 L16 A65 | L21 A72 A38 A37 A36 L13 A62 L3 A6 A7 A8 A71 A35 A34 A33 L12 A61 L2 A3 A4 A5 A70 A32 A31 A30 L11 A60 L0 A80 | A80 L0 A60 L1 A0 A1 A2 A79 A59 A58 A57 L20 A69 L10 A27 A28 A29 A78 A56 A55 A54 L19 A68 L9 A24 A25 A26 A77 L21
sketch "Sketch3" plane through (0, 0, 0) normal (0, 0, -1) x (-1, 0, 0)
  circle A0 centre (-12.9904, -7.5) radius 1.25
  circle A1 centre (12.9904, -7.5) radius 1.25
  circle A2 centre (0, 15) radius 1.25
  circle A3 centre (0, 0) radius 20.05 construction
  circle A4 centre (0, 0) radius 18.25 construction
  circle A5 centre (-12.9904, -7.5) radius 3.25 construction
  circle A6 centre (-12.9904, -7.5) radius 3
  circle A7 centre (12.9904, -7.5) radius 3
  circle A8 centre (0, 15) radius 3
  arc A9 (-1.5559, 17.565) -> (-15.9897, -7.435) centre (14.0033, -8.0848) ccw
  arc A10 (-14.4338, -10.13) -> (14.4338, -10.13) centre (0, 16.1696) ccw
  arc A11 (15.9897, -7.435) -> (1.5559, 17.565) centre (-14.0033, -8.0848) ccw
  circle A12 centre (0, 0) radius 5 projected
  point P0 (15.9897, -7.435)
  point P1 (1.5559, 17.565)
  point P2 (-14.4338, -10.13)
  point P3 (14.4338, -10.13)
  dimension "d14" = 6
  dimension "d18" = 6
  dimension "d3" = 2.5
  dimension "d6" = 360
  dimension "d9" = 40.1
  dimension "d10" = 36.5
  dimension "d11" = 6.5
  dimension "d17" = 6
  dimension "d19" = 30
  dimension "d22" = 360
extrude "Extrusion2" add sketch "Sketch3" along normal blind 3
thread "Thread1" size "M3x0.5" class "6H" standard "ANSI Metric M Profile" full length
thread "Thread2" size "M3x0.5" class "6H" standard "ANSI Metric M Profile" full length
thread "Thread3" size "M3x0.5" class "6H" standard "ANSI Metric M Profile" full length
properties part number "多段ギアm2z10t8"
